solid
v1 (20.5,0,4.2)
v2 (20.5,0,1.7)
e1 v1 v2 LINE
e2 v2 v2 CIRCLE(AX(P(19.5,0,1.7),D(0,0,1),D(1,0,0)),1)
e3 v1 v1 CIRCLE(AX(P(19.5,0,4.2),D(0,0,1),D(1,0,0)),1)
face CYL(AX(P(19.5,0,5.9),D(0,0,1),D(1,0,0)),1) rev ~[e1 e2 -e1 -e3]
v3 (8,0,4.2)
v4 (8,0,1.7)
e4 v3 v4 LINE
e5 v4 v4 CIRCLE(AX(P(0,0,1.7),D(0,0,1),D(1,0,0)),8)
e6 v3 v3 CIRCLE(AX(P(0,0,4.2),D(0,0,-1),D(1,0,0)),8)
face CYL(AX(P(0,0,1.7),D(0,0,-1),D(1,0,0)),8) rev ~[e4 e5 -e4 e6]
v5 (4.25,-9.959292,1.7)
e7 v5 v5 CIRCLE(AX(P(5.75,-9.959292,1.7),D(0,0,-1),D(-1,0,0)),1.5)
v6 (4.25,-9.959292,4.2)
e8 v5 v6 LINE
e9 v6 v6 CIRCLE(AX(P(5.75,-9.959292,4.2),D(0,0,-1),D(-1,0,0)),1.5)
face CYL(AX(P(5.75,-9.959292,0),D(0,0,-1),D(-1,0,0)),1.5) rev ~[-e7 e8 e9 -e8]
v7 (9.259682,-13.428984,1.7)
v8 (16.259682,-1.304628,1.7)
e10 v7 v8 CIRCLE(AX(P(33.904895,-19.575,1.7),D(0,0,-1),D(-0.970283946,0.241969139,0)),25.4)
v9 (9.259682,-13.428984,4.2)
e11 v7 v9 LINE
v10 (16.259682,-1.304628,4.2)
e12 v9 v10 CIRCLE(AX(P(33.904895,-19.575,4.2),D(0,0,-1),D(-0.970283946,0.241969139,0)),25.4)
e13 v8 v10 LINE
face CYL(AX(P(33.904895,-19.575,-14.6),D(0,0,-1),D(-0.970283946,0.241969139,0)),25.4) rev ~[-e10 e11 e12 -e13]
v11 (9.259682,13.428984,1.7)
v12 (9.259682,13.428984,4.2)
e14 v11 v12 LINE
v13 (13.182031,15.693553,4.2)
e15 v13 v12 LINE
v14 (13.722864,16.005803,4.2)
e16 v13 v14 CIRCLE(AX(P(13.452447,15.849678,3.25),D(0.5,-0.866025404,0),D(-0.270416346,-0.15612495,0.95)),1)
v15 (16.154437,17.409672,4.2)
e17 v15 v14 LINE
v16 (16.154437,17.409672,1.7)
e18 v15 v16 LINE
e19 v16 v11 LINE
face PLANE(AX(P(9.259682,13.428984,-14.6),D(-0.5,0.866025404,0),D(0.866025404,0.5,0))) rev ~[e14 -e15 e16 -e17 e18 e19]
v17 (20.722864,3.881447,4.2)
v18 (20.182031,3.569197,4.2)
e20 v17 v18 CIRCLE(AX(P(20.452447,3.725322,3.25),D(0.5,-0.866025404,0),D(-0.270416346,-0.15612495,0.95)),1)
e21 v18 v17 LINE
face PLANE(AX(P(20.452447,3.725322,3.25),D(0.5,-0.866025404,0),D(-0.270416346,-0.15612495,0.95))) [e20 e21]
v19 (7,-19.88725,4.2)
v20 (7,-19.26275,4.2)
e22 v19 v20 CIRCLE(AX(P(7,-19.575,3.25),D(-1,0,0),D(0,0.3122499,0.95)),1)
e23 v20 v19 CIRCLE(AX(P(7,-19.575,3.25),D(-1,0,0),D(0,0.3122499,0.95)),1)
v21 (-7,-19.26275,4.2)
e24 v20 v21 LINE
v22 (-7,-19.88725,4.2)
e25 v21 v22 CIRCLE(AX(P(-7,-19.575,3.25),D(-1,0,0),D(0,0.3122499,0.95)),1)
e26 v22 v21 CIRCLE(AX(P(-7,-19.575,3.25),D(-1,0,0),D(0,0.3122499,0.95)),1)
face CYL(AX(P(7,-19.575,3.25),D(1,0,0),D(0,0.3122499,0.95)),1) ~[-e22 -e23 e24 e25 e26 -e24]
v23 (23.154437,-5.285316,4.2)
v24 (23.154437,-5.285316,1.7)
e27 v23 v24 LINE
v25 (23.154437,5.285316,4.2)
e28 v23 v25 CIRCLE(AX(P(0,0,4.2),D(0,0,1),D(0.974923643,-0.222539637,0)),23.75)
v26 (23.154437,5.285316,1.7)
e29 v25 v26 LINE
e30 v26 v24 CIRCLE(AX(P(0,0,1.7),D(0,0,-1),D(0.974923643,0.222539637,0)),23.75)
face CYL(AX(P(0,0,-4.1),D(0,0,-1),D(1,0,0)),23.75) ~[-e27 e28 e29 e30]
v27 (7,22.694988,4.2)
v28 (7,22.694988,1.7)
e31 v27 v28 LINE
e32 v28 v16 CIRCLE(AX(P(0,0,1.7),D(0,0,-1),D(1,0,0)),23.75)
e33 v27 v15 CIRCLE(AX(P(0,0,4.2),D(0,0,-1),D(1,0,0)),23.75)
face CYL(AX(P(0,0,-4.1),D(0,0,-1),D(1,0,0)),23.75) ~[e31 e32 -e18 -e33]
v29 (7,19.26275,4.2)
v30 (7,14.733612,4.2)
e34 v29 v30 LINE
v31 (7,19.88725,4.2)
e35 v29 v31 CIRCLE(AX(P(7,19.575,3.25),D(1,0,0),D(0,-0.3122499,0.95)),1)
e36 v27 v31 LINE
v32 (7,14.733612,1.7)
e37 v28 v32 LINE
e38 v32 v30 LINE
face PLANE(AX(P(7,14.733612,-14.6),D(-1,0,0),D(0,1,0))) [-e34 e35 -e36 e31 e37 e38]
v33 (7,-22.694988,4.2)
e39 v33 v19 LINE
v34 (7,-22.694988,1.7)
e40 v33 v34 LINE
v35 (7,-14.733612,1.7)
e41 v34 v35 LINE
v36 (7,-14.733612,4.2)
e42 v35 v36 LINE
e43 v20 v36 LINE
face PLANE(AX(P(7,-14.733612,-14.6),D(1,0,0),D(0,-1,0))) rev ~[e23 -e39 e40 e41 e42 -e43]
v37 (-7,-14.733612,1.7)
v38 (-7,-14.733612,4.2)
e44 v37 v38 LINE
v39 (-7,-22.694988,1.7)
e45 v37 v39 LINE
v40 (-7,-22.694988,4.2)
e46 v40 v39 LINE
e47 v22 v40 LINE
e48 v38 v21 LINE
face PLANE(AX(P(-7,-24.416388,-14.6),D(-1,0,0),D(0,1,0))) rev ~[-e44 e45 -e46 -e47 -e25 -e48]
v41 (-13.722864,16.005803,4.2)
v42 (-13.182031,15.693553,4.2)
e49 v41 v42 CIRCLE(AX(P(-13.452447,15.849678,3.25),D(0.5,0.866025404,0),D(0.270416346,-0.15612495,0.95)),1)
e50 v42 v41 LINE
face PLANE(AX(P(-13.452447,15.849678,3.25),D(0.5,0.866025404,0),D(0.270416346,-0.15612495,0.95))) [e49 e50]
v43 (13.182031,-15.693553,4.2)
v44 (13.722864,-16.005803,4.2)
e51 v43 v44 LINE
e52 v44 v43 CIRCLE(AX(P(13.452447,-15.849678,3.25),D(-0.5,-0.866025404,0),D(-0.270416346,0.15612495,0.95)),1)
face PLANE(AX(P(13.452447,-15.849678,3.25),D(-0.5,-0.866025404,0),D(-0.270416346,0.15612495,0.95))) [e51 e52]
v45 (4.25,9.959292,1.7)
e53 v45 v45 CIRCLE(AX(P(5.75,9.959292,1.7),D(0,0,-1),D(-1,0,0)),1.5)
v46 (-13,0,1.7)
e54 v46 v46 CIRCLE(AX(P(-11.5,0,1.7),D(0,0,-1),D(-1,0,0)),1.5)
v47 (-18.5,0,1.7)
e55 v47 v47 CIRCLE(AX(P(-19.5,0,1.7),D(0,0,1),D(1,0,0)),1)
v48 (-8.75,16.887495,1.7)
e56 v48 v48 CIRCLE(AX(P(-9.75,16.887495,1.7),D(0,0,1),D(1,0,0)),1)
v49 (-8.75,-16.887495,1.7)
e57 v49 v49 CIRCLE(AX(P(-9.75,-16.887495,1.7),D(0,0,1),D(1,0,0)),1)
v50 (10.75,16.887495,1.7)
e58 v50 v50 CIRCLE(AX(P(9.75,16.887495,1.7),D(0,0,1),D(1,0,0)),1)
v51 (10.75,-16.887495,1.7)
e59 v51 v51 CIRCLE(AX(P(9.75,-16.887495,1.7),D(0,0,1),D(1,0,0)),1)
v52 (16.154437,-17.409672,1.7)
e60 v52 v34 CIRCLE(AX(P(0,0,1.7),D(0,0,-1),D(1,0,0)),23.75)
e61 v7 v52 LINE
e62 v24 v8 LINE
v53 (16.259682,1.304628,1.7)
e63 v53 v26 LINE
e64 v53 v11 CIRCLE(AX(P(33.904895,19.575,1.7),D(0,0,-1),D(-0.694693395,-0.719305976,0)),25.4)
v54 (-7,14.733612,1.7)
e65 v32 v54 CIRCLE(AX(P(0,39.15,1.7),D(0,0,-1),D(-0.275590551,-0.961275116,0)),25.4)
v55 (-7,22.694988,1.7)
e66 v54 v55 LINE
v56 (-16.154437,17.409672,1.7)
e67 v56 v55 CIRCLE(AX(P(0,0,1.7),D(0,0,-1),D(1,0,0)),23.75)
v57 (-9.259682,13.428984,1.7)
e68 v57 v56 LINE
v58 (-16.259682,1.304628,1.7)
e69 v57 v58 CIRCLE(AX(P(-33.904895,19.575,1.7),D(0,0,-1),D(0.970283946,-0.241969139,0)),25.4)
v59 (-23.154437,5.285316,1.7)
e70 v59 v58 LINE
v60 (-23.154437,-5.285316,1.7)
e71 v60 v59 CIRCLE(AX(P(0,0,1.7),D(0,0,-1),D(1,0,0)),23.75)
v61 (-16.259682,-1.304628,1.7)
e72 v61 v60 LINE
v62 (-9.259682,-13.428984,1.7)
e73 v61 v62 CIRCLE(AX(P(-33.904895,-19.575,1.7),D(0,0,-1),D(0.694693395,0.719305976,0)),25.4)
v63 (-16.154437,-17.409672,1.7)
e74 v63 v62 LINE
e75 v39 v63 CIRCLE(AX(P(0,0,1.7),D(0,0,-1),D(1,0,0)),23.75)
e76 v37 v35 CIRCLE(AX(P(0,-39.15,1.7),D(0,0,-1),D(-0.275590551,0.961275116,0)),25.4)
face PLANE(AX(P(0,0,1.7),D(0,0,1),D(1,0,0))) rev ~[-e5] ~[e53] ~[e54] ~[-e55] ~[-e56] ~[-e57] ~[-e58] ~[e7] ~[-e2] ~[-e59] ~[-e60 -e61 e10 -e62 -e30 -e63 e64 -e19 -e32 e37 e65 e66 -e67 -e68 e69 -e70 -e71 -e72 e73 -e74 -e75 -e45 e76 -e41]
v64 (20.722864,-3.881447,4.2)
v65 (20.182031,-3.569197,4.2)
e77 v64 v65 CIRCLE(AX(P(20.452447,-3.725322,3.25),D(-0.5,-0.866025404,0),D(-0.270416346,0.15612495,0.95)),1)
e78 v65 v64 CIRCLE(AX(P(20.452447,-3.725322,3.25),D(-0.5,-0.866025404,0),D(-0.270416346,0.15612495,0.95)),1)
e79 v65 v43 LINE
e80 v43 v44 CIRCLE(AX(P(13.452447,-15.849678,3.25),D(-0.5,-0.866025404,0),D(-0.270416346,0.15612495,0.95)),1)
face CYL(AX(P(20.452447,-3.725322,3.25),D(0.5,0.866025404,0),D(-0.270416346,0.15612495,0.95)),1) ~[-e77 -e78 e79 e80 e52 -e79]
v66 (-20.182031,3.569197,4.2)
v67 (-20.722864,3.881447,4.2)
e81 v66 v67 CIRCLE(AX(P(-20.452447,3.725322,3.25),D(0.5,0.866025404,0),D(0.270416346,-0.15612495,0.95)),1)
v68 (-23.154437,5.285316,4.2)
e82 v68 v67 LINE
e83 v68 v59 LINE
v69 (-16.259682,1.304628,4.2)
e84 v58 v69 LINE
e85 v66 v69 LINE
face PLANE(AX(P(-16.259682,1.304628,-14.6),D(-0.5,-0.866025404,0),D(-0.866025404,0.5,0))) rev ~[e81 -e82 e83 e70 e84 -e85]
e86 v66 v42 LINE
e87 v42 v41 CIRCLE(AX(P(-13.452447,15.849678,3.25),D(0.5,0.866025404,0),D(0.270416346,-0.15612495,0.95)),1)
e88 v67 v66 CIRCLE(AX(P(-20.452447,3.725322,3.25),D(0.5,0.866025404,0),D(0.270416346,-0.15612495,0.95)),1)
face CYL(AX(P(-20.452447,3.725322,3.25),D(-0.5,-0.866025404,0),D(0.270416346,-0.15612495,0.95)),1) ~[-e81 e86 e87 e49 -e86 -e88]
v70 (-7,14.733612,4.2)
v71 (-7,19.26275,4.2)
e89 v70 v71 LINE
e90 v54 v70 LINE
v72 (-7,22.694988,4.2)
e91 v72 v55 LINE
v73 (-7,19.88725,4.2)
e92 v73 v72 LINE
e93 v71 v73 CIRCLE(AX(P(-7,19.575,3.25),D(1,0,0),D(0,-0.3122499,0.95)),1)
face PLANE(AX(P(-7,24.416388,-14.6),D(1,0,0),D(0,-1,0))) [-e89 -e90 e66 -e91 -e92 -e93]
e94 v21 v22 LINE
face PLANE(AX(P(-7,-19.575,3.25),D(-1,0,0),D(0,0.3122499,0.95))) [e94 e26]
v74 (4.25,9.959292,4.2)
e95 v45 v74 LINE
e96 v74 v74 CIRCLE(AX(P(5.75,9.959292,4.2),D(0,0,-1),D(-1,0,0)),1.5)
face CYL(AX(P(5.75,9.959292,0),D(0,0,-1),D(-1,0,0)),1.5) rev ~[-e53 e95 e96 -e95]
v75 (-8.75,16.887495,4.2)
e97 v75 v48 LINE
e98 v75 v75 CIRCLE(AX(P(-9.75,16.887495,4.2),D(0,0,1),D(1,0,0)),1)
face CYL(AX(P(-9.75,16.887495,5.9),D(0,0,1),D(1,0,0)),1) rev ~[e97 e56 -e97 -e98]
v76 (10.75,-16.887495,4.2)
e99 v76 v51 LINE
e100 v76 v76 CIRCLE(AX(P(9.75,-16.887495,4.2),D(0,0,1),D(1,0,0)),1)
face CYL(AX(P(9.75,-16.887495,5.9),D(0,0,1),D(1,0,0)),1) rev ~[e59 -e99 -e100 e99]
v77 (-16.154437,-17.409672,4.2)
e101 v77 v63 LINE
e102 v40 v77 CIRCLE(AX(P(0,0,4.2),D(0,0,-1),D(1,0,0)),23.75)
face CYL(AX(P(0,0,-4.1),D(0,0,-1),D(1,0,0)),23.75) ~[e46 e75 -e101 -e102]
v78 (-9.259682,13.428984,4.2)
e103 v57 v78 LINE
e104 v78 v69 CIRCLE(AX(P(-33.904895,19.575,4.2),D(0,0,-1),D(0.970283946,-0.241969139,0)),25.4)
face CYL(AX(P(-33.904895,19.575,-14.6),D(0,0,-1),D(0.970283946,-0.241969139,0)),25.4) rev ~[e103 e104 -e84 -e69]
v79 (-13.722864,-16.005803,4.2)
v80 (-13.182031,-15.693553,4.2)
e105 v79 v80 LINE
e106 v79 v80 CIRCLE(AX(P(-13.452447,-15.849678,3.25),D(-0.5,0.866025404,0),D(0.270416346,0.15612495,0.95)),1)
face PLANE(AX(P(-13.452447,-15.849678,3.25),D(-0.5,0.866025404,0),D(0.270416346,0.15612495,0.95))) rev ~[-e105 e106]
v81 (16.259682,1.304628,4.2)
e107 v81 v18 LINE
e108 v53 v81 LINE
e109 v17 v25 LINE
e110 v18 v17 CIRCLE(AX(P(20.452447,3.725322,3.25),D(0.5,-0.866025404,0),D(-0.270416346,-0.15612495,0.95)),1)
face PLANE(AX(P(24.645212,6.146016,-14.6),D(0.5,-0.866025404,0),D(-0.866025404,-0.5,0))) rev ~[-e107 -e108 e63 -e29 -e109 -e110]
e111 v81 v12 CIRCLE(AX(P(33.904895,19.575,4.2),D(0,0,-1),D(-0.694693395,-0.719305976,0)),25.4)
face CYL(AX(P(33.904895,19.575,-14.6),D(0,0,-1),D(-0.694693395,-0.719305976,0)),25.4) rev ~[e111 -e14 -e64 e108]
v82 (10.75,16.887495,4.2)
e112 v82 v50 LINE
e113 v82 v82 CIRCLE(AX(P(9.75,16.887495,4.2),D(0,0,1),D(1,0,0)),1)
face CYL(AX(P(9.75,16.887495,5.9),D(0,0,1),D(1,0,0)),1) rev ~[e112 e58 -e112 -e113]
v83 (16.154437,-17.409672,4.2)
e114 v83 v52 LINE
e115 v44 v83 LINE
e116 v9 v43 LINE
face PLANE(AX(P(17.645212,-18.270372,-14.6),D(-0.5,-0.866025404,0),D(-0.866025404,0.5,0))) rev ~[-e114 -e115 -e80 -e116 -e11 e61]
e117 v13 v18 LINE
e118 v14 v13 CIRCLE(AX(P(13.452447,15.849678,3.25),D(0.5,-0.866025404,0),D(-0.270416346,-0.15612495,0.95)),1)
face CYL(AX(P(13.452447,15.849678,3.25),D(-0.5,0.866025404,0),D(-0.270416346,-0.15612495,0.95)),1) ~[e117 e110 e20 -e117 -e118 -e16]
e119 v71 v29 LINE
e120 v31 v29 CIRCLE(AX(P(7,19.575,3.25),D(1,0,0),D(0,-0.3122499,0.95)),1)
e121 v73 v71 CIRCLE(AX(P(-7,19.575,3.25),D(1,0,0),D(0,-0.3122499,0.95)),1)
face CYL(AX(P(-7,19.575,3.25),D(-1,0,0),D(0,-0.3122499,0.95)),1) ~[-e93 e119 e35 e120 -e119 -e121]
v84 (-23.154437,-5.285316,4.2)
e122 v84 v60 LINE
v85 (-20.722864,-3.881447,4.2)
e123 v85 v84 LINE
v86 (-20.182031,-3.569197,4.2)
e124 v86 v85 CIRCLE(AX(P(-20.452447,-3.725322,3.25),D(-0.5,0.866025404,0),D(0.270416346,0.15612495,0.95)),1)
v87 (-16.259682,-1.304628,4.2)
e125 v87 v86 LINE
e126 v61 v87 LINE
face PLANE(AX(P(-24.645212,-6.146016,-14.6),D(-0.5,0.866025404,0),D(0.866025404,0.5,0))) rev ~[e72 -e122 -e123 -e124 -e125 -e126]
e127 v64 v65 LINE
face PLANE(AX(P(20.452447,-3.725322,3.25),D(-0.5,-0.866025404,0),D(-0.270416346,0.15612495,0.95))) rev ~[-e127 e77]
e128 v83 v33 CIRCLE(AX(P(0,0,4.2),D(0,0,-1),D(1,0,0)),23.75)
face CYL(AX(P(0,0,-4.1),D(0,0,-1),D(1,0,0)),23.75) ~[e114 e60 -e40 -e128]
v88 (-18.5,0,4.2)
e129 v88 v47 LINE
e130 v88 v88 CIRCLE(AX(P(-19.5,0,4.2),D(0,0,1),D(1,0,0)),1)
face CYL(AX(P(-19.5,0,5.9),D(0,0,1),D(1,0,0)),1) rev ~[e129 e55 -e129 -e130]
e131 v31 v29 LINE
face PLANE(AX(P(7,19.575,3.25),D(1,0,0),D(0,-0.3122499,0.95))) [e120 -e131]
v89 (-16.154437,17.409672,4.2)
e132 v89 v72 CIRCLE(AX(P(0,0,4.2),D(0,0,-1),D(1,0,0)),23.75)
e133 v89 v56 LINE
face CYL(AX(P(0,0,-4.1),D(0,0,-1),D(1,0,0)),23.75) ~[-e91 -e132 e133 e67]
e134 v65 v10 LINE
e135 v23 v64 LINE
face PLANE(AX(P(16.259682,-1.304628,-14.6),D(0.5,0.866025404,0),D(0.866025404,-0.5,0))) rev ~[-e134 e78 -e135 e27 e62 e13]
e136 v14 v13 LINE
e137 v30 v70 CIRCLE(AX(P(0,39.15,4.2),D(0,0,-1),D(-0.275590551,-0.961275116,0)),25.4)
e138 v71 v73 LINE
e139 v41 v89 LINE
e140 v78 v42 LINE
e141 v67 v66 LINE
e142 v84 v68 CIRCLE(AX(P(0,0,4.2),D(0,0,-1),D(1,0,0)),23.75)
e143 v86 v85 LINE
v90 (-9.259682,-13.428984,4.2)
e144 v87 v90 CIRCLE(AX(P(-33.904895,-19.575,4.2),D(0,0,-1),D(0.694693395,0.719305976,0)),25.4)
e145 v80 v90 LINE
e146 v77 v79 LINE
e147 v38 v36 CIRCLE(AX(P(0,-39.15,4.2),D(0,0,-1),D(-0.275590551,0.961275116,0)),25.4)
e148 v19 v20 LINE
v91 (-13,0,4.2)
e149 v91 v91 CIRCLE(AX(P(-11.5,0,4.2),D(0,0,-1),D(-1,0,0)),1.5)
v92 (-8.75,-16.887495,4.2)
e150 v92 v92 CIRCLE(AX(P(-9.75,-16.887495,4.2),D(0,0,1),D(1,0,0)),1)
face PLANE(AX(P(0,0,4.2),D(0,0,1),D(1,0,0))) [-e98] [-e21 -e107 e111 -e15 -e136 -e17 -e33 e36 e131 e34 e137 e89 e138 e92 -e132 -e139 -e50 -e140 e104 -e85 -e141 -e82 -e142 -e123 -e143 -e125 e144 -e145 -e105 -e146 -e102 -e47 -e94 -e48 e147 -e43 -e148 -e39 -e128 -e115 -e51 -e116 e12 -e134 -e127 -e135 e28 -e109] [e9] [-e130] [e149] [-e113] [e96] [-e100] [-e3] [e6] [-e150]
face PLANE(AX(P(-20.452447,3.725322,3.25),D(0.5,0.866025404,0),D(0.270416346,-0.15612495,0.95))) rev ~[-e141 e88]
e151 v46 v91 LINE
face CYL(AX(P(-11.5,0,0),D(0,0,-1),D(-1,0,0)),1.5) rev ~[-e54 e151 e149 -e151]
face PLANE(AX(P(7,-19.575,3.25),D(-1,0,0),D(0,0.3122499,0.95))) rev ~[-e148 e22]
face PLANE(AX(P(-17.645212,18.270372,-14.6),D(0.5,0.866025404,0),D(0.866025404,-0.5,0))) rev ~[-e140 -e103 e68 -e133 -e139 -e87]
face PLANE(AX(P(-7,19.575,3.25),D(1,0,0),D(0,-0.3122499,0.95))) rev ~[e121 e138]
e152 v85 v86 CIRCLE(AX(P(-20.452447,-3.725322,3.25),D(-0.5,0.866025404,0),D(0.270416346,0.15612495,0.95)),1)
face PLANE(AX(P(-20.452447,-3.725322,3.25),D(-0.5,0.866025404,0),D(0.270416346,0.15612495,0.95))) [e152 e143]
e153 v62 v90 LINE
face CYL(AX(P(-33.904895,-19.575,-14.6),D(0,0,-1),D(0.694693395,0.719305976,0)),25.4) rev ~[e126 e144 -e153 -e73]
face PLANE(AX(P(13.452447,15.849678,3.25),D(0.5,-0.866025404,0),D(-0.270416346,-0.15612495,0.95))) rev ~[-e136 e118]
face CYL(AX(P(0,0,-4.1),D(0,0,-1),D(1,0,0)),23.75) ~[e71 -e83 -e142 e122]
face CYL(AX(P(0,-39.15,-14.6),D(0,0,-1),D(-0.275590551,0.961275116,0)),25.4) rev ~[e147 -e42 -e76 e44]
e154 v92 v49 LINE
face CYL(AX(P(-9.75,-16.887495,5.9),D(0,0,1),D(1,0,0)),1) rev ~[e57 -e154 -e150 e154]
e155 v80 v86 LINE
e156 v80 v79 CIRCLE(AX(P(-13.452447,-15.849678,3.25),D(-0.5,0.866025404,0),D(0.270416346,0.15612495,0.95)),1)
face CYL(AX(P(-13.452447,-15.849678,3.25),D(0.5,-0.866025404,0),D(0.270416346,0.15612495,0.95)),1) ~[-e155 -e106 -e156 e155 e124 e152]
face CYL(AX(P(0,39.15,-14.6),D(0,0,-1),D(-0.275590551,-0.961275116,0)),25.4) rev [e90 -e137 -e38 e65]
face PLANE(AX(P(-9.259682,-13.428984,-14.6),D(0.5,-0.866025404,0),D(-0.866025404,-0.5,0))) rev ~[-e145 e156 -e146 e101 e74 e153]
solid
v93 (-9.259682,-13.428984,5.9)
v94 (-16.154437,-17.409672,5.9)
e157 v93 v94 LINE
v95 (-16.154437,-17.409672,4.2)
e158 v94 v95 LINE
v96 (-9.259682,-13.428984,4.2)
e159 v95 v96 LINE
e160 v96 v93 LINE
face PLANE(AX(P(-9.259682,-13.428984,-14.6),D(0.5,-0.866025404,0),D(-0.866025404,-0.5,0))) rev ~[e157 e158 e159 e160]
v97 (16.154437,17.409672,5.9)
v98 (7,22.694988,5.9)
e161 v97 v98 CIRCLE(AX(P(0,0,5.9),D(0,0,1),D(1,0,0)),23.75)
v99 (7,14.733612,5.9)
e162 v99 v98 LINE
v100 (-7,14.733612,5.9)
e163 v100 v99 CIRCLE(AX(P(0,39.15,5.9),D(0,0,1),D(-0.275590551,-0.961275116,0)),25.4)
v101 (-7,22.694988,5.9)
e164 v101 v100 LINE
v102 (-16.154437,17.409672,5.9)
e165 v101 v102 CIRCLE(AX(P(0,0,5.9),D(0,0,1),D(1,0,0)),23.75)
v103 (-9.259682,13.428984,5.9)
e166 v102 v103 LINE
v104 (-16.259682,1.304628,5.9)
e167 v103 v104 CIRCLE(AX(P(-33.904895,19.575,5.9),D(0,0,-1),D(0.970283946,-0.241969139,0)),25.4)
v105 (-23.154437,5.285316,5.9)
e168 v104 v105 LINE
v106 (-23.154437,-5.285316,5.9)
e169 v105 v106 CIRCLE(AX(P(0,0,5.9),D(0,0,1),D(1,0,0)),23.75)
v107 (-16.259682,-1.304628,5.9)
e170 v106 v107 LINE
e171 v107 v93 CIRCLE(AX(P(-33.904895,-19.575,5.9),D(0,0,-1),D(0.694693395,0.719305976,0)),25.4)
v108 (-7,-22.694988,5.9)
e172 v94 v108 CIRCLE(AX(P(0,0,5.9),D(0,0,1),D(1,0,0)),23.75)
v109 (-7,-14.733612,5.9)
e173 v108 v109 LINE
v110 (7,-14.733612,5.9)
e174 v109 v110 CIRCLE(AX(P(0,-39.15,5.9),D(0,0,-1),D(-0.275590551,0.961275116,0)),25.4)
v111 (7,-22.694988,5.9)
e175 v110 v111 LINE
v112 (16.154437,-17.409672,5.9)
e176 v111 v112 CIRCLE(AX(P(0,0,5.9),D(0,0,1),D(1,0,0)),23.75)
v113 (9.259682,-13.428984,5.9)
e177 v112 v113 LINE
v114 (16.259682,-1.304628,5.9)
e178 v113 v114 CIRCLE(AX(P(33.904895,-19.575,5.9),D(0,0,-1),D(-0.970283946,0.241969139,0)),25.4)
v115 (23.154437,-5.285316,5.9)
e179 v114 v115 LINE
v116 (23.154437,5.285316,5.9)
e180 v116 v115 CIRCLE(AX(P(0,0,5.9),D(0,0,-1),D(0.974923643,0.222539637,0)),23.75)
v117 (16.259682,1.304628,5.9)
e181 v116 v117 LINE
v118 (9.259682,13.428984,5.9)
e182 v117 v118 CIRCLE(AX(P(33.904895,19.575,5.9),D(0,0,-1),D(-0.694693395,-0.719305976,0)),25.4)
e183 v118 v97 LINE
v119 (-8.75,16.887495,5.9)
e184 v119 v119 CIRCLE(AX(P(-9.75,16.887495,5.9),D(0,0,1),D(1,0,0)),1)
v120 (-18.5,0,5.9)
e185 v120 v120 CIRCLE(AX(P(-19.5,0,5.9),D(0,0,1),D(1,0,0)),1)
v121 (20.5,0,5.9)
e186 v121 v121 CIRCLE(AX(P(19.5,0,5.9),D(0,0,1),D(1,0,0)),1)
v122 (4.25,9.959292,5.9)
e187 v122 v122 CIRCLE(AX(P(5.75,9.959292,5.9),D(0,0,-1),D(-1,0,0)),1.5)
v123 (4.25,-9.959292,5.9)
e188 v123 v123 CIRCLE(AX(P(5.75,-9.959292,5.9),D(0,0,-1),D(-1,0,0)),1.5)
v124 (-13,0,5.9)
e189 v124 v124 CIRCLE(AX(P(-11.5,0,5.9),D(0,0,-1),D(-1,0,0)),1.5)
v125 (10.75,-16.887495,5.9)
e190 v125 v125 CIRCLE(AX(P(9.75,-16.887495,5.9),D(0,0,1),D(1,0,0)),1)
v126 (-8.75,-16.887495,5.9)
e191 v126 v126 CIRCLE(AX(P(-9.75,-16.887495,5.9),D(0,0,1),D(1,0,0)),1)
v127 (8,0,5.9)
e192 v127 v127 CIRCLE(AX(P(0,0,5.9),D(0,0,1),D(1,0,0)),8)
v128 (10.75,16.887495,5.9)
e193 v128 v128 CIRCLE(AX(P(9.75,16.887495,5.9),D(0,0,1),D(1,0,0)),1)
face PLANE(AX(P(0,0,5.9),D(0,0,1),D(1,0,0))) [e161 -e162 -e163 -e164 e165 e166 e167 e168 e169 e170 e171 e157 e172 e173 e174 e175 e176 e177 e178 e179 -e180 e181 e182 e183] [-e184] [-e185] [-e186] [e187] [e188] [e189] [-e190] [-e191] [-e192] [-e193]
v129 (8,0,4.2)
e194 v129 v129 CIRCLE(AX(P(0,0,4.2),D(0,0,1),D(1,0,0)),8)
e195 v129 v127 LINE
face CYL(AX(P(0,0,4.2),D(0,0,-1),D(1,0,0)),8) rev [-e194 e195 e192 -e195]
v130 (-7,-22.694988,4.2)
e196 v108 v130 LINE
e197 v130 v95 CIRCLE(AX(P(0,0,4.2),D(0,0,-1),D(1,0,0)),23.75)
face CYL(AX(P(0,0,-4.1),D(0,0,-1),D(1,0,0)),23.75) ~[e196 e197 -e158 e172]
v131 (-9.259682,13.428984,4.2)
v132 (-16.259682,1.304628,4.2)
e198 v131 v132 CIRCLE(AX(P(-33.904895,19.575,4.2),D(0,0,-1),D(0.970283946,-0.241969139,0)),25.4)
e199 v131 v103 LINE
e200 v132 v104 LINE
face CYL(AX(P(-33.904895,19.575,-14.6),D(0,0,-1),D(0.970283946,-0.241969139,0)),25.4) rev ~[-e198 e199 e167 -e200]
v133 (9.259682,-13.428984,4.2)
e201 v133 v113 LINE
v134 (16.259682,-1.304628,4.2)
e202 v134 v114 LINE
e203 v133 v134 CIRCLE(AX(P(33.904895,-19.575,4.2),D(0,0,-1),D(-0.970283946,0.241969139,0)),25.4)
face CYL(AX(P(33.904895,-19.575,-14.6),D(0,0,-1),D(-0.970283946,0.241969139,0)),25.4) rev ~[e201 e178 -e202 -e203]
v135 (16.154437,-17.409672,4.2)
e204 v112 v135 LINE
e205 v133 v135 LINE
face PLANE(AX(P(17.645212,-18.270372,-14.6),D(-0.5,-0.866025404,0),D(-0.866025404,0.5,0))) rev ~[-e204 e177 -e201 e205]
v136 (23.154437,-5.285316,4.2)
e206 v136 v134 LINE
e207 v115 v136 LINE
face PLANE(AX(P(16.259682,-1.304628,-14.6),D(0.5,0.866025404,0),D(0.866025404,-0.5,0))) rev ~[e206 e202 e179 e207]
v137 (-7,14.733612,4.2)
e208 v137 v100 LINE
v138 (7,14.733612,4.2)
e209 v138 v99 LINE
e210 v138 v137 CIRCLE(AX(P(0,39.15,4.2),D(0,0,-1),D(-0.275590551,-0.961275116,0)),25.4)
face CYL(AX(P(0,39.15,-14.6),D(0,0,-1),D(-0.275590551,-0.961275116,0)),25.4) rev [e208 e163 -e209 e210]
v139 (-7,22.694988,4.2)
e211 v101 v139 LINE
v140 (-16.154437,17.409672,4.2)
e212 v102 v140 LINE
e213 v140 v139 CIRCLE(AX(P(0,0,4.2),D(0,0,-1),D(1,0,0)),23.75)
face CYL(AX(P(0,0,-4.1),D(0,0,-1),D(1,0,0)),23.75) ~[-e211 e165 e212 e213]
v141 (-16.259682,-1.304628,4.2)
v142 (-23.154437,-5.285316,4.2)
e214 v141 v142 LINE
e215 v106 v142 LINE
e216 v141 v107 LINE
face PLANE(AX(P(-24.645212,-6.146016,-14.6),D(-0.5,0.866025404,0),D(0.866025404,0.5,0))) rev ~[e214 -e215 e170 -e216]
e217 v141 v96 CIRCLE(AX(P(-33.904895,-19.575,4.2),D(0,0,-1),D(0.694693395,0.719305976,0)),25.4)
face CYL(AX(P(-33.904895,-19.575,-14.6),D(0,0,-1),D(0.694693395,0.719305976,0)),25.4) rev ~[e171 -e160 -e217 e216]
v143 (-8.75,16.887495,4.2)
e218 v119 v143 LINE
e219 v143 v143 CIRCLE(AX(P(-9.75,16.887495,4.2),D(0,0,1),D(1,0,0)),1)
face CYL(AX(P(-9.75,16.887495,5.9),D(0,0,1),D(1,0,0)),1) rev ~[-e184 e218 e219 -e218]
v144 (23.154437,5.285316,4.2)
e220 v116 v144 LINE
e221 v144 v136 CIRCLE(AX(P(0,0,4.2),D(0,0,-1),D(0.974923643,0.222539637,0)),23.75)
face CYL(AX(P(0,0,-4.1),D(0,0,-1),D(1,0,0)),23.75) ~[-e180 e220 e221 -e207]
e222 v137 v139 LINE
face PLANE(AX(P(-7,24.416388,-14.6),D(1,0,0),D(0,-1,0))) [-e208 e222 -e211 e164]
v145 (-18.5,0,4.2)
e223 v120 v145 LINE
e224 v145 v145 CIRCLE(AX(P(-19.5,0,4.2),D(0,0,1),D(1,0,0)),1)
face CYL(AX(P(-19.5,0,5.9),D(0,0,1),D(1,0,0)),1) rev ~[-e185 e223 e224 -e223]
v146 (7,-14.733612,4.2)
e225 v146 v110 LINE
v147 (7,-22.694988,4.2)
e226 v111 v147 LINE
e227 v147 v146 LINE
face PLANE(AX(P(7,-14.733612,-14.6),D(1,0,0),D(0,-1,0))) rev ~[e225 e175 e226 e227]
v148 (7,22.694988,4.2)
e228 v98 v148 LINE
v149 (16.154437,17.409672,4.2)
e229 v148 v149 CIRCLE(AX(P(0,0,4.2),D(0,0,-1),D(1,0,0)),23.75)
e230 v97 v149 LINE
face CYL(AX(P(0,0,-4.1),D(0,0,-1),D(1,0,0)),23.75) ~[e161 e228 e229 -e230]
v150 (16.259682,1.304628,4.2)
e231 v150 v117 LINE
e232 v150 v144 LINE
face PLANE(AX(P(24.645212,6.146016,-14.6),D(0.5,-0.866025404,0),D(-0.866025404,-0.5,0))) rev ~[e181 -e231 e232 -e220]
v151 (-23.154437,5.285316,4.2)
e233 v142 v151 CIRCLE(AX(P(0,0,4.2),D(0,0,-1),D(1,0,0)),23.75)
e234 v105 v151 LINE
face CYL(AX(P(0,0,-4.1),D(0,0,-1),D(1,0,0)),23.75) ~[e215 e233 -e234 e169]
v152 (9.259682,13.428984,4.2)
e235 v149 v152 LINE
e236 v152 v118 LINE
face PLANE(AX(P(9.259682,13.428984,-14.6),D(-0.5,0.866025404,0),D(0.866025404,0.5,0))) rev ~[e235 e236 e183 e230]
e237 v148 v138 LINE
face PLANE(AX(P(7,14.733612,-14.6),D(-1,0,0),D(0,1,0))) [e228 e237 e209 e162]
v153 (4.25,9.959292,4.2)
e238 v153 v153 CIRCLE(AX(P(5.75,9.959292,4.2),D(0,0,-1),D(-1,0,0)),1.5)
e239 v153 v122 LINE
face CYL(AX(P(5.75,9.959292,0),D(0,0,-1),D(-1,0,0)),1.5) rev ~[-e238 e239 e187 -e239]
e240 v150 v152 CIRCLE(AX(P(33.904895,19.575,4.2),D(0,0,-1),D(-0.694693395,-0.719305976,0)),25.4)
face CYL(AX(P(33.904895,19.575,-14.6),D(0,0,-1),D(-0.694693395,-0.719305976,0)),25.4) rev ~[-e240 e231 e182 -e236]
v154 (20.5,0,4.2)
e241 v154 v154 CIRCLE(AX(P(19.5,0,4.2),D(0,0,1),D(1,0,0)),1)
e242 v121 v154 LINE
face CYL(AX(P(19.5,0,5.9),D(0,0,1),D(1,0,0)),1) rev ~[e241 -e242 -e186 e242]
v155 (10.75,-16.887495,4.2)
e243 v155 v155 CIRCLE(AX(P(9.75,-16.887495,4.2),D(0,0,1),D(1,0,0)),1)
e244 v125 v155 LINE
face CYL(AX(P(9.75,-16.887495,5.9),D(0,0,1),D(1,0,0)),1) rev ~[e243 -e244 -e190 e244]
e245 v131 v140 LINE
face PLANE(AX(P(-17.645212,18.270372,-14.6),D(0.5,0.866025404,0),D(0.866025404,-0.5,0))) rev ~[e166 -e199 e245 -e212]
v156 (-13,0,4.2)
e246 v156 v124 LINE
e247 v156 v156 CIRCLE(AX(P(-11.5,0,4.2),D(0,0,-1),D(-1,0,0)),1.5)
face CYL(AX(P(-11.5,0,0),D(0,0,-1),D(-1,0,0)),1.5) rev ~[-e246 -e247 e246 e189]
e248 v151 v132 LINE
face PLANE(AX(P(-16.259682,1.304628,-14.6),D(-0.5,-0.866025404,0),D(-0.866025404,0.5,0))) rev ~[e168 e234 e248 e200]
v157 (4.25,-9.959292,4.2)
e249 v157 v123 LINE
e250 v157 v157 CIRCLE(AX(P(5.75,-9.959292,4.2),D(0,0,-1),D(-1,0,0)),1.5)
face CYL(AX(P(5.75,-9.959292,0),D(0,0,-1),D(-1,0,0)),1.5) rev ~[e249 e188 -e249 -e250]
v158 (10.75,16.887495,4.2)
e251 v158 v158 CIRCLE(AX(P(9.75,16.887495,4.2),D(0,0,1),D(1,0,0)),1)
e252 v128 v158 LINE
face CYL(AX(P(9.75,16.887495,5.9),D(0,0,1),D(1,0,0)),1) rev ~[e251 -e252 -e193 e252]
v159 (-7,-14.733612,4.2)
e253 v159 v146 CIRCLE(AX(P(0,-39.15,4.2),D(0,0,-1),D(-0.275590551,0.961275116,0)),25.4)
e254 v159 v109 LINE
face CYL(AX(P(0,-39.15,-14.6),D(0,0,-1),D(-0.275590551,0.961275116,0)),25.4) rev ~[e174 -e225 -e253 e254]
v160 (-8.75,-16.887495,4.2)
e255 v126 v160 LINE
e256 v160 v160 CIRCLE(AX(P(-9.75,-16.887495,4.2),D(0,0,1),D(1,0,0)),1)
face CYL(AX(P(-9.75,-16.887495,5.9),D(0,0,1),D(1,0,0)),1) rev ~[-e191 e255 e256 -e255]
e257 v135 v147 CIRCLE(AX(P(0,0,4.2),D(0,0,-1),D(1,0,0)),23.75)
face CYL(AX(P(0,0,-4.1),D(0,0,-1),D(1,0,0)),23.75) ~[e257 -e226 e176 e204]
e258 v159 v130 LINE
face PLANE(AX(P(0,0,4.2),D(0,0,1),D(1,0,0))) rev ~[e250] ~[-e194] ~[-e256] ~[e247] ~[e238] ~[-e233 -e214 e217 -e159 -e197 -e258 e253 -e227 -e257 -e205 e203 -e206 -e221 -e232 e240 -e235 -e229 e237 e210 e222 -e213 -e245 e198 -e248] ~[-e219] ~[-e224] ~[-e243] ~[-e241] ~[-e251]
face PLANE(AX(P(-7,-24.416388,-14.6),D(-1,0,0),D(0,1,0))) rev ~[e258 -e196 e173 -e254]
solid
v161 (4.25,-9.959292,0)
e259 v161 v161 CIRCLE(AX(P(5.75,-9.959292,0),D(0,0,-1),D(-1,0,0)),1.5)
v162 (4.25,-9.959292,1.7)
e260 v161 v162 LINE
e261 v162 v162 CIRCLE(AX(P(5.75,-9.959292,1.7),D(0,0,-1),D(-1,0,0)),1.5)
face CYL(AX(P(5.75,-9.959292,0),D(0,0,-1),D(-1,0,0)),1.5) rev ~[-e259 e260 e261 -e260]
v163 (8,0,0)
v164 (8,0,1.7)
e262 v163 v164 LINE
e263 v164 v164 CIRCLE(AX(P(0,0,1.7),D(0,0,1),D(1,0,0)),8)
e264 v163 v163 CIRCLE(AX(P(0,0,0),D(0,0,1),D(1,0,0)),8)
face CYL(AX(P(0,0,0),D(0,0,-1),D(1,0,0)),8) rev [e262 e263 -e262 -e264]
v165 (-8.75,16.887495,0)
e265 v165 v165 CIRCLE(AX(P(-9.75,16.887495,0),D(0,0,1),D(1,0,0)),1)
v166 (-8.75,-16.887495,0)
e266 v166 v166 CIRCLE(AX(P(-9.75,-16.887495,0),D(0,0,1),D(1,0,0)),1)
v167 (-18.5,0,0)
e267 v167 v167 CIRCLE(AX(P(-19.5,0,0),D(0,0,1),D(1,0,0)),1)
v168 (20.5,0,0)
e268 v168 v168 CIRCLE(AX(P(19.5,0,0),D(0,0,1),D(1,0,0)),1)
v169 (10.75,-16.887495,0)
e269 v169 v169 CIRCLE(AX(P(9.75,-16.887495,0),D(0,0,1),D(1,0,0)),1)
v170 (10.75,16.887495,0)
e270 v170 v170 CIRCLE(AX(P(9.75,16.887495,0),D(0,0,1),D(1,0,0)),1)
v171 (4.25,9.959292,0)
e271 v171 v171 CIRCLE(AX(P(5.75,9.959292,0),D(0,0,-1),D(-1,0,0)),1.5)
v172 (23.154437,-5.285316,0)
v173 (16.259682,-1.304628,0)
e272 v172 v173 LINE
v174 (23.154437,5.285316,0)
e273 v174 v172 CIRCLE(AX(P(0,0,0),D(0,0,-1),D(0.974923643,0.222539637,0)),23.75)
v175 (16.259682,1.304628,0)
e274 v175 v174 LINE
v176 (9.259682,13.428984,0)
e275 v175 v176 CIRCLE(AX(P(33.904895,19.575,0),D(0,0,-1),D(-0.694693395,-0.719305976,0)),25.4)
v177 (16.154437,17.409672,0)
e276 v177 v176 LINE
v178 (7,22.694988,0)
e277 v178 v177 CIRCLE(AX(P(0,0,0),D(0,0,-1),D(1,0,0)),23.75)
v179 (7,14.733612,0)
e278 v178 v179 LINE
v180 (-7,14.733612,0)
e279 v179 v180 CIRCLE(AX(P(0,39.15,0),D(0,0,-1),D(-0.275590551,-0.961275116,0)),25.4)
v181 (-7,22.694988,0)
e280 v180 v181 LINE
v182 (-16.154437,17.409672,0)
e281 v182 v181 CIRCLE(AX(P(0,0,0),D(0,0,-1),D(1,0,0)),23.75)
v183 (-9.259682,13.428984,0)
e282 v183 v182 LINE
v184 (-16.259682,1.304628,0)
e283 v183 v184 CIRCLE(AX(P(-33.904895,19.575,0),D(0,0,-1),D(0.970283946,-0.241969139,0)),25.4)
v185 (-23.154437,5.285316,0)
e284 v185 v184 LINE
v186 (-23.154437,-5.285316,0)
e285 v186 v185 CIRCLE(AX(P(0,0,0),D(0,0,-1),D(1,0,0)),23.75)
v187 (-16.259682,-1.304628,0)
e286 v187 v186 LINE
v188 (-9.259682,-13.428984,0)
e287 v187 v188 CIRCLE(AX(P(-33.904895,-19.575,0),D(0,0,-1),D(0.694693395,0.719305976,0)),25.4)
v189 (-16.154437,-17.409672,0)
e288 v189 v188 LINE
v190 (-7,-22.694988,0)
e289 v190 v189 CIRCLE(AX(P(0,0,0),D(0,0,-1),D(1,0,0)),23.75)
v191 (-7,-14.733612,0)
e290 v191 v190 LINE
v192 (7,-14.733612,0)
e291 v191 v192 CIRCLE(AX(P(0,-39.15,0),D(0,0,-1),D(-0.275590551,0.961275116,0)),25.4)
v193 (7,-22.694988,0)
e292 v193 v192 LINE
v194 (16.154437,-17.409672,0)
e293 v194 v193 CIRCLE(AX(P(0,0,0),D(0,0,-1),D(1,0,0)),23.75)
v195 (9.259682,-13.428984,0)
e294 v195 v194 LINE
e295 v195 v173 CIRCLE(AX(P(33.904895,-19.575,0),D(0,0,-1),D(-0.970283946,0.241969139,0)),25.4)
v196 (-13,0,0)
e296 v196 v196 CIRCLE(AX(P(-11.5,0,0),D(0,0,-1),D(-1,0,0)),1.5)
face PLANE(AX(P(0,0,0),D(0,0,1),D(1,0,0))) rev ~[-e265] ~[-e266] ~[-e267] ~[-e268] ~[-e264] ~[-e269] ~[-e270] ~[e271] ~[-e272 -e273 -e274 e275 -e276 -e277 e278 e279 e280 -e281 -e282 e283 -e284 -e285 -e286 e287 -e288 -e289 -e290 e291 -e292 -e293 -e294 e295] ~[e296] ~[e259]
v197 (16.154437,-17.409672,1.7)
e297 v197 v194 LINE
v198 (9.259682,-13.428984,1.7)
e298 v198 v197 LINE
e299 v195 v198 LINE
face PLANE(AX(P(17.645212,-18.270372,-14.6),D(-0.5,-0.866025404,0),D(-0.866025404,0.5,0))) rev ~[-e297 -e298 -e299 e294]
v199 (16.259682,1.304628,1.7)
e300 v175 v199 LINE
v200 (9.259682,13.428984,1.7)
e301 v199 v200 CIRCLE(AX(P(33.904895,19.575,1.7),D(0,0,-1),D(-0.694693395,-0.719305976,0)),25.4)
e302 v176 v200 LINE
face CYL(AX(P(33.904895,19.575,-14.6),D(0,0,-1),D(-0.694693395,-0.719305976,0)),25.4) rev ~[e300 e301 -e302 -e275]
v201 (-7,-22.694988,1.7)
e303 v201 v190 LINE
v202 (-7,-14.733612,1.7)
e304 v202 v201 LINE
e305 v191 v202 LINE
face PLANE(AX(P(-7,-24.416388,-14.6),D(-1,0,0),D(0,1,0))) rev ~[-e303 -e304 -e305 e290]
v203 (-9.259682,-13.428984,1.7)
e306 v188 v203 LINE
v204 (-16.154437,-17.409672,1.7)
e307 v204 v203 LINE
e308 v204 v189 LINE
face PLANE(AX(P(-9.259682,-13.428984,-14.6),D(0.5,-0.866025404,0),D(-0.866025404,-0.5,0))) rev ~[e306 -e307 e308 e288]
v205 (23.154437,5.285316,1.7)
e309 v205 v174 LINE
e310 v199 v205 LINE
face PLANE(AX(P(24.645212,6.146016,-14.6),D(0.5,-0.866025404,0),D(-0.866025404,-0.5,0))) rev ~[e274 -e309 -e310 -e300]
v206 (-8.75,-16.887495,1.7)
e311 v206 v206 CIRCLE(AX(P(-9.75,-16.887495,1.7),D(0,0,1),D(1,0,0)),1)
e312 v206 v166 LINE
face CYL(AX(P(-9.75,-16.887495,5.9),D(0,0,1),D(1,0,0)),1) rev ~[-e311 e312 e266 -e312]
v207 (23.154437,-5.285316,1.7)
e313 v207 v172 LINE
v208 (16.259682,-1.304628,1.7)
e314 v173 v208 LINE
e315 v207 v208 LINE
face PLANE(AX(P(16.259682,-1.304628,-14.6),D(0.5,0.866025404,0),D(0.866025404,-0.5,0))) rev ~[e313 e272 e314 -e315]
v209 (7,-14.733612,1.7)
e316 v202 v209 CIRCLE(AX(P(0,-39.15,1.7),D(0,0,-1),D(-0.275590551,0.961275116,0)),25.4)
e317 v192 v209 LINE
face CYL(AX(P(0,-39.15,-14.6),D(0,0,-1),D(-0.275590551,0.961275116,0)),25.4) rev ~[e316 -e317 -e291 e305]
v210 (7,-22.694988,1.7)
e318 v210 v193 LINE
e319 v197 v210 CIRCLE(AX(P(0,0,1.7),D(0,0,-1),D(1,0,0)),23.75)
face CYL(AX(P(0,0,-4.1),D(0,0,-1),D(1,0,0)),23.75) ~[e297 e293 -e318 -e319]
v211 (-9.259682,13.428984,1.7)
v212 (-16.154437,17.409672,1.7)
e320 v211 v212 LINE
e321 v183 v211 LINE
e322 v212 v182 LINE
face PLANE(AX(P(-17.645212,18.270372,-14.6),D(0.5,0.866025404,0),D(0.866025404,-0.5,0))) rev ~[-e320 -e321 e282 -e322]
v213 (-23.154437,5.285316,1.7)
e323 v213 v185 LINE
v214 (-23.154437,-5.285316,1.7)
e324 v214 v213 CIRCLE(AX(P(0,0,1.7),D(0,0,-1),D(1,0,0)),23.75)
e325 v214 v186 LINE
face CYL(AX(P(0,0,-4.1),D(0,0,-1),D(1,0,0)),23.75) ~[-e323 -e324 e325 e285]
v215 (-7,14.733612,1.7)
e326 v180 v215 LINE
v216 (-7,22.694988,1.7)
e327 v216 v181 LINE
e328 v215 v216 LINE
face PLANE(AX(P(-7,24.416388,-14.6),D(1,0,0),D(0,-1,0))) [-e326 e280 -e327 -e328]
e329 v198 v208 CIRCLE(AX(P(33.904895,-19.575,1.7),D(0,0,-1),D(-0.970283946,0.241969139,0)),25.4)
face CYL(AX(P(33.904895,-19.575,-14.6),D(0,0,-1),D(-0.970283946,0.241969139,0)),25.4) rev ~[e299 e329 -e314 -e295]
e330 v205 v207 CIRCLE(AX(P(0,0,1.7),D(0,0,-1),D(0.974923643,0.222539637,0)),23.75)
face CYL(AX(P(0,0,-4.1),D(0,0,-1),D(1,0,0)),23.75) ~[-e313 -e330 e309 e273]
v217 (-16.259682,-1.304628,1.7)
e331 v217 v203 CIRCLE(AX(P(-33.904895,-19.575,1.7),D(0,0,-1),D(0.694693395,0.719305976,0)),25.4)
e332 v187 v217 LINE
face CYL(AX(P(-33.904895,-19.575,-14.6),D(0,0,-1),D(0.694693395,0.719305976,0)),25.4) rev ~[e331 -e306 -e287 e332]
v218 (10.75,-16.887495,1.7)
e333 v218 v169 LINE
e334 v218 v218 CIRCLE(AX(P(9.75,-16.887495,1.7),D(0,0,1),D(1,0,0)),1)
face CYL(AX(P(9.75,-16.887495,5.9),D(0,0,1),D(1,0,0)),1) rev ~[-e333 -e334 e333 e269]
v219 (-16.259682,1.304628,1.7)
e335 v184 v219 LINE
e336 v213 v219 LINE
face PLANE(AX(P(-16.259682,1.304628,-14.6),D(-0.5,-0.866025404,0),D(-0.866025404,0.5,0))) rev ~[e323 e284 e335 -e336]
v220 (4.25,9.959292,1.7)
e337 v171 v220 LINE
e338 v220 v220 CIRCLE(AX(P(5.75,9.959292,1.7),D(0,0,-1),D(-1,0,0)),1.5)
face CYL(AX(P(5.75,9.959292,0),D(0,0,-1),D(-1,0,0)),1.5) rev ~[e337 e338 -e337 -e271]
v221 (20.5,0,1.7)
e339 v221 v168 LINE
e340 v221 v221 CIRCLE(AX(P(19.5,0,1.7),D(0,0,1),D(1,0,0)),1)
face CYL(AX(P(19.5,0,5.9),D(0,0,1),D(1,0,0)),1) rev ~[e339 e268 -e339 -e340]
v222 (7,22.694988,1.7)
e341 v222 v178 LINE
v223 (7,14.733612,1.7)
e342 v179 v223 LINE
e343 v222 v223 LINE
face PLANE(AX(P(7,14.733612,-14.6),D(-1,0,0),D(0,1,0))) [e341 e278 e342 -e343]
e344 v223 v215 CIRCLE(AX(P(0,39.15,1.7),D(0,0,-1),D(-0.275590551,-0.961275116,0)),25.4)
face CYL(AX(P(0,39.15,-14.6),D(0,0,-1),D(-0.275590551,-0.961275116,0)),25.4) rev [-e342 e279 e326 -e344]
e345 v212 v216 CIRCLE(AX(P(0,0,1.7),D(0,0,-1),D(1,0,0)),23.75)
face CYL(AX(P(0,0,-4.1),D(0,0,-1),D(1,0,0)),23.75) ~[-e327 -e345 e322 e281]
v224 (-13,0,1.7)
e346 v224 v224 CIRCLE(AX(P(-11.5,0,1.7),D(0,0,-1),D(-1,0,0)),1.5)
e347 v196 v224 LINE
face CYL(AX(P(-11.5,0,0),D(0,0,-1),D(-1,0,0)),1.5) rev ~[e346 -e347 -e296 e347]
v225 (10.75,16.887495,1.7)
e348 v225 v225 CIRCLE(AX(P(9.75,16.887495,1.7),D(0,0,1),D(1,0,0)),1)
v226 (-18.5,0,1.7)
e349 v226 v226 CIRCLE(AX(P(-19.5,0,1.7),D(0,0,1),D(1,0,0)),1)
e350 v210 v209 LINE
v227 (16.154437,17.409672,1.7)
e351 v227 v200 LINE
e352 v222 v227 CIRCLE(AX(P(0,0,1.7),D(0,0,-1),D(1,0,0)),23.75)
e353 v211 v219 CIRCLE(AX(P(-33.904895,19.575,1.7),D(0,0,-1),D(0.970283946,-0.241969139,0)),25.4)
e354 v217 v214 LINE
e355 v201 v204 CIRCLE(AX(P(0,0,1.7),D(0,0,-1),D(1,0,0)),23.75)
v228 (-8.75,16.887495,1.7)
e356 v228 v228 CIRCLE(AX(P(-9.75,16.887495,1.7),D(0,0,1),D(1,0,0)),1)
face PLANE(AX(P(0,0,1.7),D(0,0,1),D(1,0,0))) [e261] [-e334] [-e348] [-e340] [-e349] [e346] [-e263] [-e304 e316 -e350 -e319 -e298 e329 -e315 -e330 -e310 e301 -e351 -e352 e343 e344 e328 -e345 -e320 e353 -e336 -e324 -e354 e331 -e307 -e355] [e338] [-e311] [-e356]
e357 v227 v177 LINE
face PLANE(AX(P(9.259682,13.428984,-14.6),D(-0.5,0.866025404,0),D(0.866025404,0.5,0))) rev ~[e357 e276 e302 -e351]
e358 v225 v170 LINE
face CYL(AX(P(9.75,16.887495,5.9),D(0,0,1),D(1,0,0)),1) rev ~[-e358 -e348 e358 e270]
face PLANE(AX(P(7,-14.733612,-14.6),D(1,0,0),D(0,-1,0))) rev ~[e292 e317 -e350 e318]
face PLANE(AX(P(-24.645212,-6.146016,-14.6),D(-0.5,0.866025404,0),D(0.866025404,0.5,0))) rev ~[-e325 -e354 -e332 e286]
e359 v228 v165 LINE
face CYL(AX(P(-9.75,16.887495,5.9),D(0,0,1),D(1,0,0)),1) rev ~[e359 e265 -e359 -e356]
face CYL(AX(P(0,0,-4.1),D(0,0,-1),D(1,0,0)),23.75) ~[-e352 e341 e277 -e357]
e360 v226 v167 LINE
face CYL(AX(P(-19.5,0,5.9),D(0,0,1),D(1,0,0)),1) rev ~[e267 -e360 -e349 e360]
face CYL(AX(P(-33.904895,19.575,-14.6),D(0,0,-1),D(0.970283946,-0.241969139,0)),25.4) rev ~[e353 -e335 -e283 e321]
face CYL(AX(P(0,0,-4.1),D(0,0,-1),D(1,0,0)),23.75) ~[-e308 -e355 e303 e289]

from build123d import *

# Parameters (mm, degrees)
SKETCH_1_R               = 25.4
SKETCH_1_R_2             = 8
EXTRUDE_1_DEPTH          = 1.7
SKETCH_2_R               = 25.4
SKETCH_2_R_2             = 3.5
EXTRUDE_2_DEPTH          = 2.5
SKETCH_3_R               = 25.4
SKETCH_3_R_2             = 8
EXTRUDE_3_DEPTH          = 1.7
CUT_EXTRUDE_START        = -20.5
CUT_EXTRUDE_1_DEPTH      = 20.5
SKETCH_5_R               = 1
CUT_EXTRUDE_2_DEPTH      = 20.5
SKETCH_6_R               = 1
EXTRUDE_4_DEPTH          = 14
PATTERN_CIRCULAR_1_COUNT = 6
SKETCH_7_R               = 1
CUT_EXTRUDE_3_DEPTH      = 14
CUT_EXTRUDE_START_2      = -10
SKETCH_8_R               = 25.4
SKETCH_8_R_2             = 23.75
CUT_EXTRUDE_4_DEPTH      = 10
SKETCH_9_R               = 8
CUT_EXTRUDE_5_DEPTH      = 34.117442534
SKETCH_10_R              = 1.5
CUT_EXTRUDE_6_DEPTH      = 34.375664787


with BuildPart() as part:
    # 草图1 → 凸台-拉伸1 (new body)
    with BuildSketch(Plane.XY):
        Circle(SKETCH_1_R)
        Circle(SKETCH_1_R_2, mode=Mode.SUBTRACT)
    extrude(amount=EXTRUDE_1_DEPTH)


with BuildPart() as body_2:
    # 草图2 → 凸台-拉伸2 (new body)
    with BuildSketch(Plane.XY.offset(1.7)):
        Circle(SKETCH_2_R)
        Circle(SKETCH_2_R_2, mode=Mode.SUBTRACT)
    extrude(amount=EXTRUDE_2_DEPTH)


with BuildPart() as body_3:
    # 草图3 → 凸台-拉伸3 (new body)
    with BuildSketch(Plane.XY.offset(4.2)):
        Circle(SKETCH_3_R)
        Circle(SKETCH_3_R_2, mode=Mode.SUBTRACT)
    extrude(amount=EXTRUDE_3_DEPTH)


with BuildPart() as cut_extrude_1_tool:
    # 草图4 → 切除-拉伸1 (new body)
    with BuildSketch(Plane.XY.offset(5.9).offset(CUT_EXTRUDE_START)):
        with BuildLine():
            Line((9.259682334, 13.428983857), (17.645212224, 18.270371796))
            ThreePointArc((17.645212224, 18.270371796), (21.997045256, 12.7), (24.645212224, 6.146016143))
            Line((24.645212224, 6.146016143), (16.259682334, 1.304628204))
            ThreePointArc((16.259682334, 1.304628204), (11.907849302, 6.875), (9.259682334, 13.428983857))
        make_face()
        with BuildLine():
            Line((7, 14.733612061), (7, 24.416387939))
            ThreePointArc((7, 24.416387939), (0, 25.4), (-7, 24.416387939))
            Line((-7, 24.416387939), (-7, 14.733612061))
            ThreePointArc((-7, 14.733612061), (0, 13.75), (7, 14.733612061))
        make_face()
        with BuildLine():
            Line((16.259682334, -1.304628204), (24.645212224, -6.146016143))
            ThreePointArc((24.645212224, -6.146016143), (21.997045256, -12.7), (17.645212224, -18.270371796))
            Line((17.645212224, -18.270371796), (9.259682334, -13.428983857))
            ThreePointArc((9.259682334, -13.428983857), (11.907849302, -6.875), (16.259682334, -1.304628204))
        make_face()
        with BuildLine():
            Line((7, -14.733612061), (7, -24.416387939))
            ThreePointArc((7, -24.416387939), (0, -25.4), (-7, -24.416387939))
            Line((-7, -24.416387939), (-7, -14.733612061))
            ThreePointArc((-7, -14.733612061), (0, -13.75), (7, -14.733612061))
        make_face()
        with BuildLine():
            Line((-9.259682334, -13.428983857), (-17.645212224, -18.270371796))
            ThreePointArc((-17.645212224, -18.270371796), (-21.997045256, -12.7), (-24.645212224, -6.146016143))
            Line((-24.645212224, -6.146016143), (-16.259682334, -1.304628204))
            ThreePointArc((-16.259682334, -1.304628204), (-11.907849302, -6.875), (-9.259682334, -13.428983857))
        make_face()
        with BuildLine():
            Line((-16.259682334, 1.304628204), (-24.645212224, 6.146016143))
            ThreePointArc((-24.645212224, 6.146016143), (-21.997045256, 12.7), (-17.645212224, 18.270371796))
            Line((-17.645212224, 18.270371796), (-9.259682334, 13.428983857))
            ThreePointArc((-9.259682334, 13.428983857), (-11.907849302, 6.875), (-16.259682334, 1.304628204))
        make_face()
    extrude(amount=CUT_EXTRUDE_1_DEPTH)


with BuildPart() as part_1:
    add(part.part)

    # 切除-拉伸1: cut by cut_extrude_1_tool
    add(cut_extrude_1_tool.part, mode=Mode.SUBTRACT)


with BuildPart() as body_2_1:
    add(body_2.part)

    # 切除-拉伸1: cut by cut_extrude_1_tool
    add(cut_extrude_1_tool.part, mode=Mode.SUBTRACT)


with BuildPart() as body_3_1:
    add(body_3.part)

    # 切除-拉伸1: cut by cut_extrude_1_tool
    add(cut_extrude_1_tool.part, mode=Mode.SUBTRACT)


with BuildPart() as cut_extrude_2_tool:
    # 草图5 → 切除-拉伸2 (new body)
    with BuildSketch(Plane.XY.offset(5.9)):
        with Locations((9.75, 16.887495374)):
            Circle(SKETCH_5_R)
        with Locations((19.5, 0)):
            Circle(SKETCH_5_R)
        with Locations((9.75, -16.887495374)):
            Circle(SKETCH_5_R)
        with Locations((-9.75, -16.887495374)):
            Circle(SKETCH_5_R)
        with Locations((-19.5, 0)):
            Circle(SKETCH_5_R)
        with Locations((-9.75, 16.887495374)):
            Circle(SKETCH_5_R)
    extrude(amount=-CUT_EXTRUDE_2_DEPTH)


with BuildPart() as part_2:
    add(part_1.part)

    # 切除-拉伸2: cut by cut_extrude_2_tool
    add(cut_extrude_2_tool.part, mode=Mode.SUBTRACT)


with BuildPart() as body_2_2:
    add(body_2_1.part)

    # 切除-拉伸2: cut by cut_extrude_2_tool
    add(cut_extrude_2_tool.part, mode=Mode.SUBTRACT)

    # 草图6 → 凸台-拉伸4 (add)
    with BuildSketch(Plane(origin=(-7, 0, 0), x_dir=(0, 0, -1), z_dir=(1, 0, 0))):
        with Locations(Location((-3.25, 19.575, 0), (0, 0, 198.194872339))):
            Circle(SKETCH_6_R)
    extrude_4 = extrude(amount=EXTRUDE_4_DEPTH)

    # 阵列(圆周)1: 凸台-拉伸4 ×6 about axis
    pattern_circular_1_axis = Axis((0, 0, 0), (0, 0, 1))
    for i in range(1, PATTERN_CIRCULAR_1_COUNT):
        add(extrude_4.rotate(pattern_circular_1_axis, i * 360 / PATTERN_CIRCULAR_1_COUNT))

    # 草图7 → 切除-拉伸3 (cut)
    with BuildSketch(Plane.XY.offset(4.2)):
        with Locations((0, 7)):
            Circle(SKETCH_7_R)
        with Locations((7, 0)):
            Circle(SKETCH_7_R)
        with Locations((0, -7)):
            Circle(SKETCH_7_R)
        with Locations((-7, 0)):
            Circle(SKETCH_7_R)
    extrude(amount=-CUT_EXTRUDE_3_DEPTH, mode=Mode.SUBTRACT)


with BuildPart() as body_3_2:
    add(body_3_1.part)

    # 切除-拉伸2: cut by cut_extrude_2_tool
    add(cut_extrude_2_tool.part, mode=Mode.SUBTRACT)


with BuildPart() as cut_extrude_4_tool:
    # 草图8 → 切除-拉伸4 (new body)
    with BuildSketch(Plane.XY.offset(5.9).offset(CUT_EXTRUDE_START_2)):
        Circle(SKETCH_8_R)
        Circle(SKETCH_8_R_2, mode=Mode.SUBTRACT)
    extrude(amount=CUT_EXTRUDE_4_DEPTH)


with BuildPart() as part_3:
    add(part_2.part)

    # 切除-拉伸4: cut by cut_extrude_4_tool
    add(cut_extrude_4_tool.part, mode=Mode.SUBTRACT)


with BuildPart() as body_2_3:
    add(body_2_2.part)

    # 切除-拉伸4: cut by cut_extrude_4_tool
    add(cut_extrude_4_tool.part, mode=Mode.SUBTRACT)

    # 草图9 → 切除-拉伸5 (cut, through all)
    with BuildSketch(Plane(origin=(0, 0, 1.7), x_dir=(-1, 0, 0), z_dir=(0, 0, -1))):
        with Locations(Location((0, 0, 0), (0, 0, 180))):
            Circle(SKETCH_9_R)
    extrude(amount=-CUT_EXTRUDE_5_DEPTH, mode=Mode.SUBTRACT)


with BuildPart() as body_3_3:
    add(body_3_2.part)

    # 切除-拉伸4: cut by cut_extrude_4_tool
    add(cut_extrude_4_tool.part, mode=Mode.SUBTRACT)


with BuildPart() as cut_extrude_6_tool:
    # 草图10 → 切除-拉伸6 (new, through all)
    with BuildSketch(Plane(origin=(0, 0, 0), x_dir=(-1, 0, 0), z_dir=(0, 0, -1))):
        with Locations((-5.75, 9.959292144)):
            Circle(SKETCH_10_R)
        with Locations((11.5, 0)):
            Circle(SKETCH_10_R)
        with Locations((-5.75, -9.959292144)):
            Circle(SKETCH_10_R)
    extrude(amount=-CUT_EXTRUDE_6_DEPTH)


with BuildPart() as part_4:
    add(part_3.part)

    # 切除-拉伸6: cut by cut_extrude_6_tool
    add(cut_extrude_6_tool.part, mode=Mode.SUBTRACT)


with BuildPart() as body_2_4:
    add(body_2_3.part)

    # 切除-拉伸6: cut by cut_extrude_6_tool
    add(cut_extrude_6_tool.part, mode=Mode.SUBTRACT)


with BuildPart() as body_3_4:
    add(body_3_3.part)

    # 切除-拉伸6: cut by cut_extrude_6_tool
    add(cut_extrude_6_tool.part, mode=Mode.SUBTRACT)


solid = Compound([part_4.part, body_2_4.part, body_3_4.part])
